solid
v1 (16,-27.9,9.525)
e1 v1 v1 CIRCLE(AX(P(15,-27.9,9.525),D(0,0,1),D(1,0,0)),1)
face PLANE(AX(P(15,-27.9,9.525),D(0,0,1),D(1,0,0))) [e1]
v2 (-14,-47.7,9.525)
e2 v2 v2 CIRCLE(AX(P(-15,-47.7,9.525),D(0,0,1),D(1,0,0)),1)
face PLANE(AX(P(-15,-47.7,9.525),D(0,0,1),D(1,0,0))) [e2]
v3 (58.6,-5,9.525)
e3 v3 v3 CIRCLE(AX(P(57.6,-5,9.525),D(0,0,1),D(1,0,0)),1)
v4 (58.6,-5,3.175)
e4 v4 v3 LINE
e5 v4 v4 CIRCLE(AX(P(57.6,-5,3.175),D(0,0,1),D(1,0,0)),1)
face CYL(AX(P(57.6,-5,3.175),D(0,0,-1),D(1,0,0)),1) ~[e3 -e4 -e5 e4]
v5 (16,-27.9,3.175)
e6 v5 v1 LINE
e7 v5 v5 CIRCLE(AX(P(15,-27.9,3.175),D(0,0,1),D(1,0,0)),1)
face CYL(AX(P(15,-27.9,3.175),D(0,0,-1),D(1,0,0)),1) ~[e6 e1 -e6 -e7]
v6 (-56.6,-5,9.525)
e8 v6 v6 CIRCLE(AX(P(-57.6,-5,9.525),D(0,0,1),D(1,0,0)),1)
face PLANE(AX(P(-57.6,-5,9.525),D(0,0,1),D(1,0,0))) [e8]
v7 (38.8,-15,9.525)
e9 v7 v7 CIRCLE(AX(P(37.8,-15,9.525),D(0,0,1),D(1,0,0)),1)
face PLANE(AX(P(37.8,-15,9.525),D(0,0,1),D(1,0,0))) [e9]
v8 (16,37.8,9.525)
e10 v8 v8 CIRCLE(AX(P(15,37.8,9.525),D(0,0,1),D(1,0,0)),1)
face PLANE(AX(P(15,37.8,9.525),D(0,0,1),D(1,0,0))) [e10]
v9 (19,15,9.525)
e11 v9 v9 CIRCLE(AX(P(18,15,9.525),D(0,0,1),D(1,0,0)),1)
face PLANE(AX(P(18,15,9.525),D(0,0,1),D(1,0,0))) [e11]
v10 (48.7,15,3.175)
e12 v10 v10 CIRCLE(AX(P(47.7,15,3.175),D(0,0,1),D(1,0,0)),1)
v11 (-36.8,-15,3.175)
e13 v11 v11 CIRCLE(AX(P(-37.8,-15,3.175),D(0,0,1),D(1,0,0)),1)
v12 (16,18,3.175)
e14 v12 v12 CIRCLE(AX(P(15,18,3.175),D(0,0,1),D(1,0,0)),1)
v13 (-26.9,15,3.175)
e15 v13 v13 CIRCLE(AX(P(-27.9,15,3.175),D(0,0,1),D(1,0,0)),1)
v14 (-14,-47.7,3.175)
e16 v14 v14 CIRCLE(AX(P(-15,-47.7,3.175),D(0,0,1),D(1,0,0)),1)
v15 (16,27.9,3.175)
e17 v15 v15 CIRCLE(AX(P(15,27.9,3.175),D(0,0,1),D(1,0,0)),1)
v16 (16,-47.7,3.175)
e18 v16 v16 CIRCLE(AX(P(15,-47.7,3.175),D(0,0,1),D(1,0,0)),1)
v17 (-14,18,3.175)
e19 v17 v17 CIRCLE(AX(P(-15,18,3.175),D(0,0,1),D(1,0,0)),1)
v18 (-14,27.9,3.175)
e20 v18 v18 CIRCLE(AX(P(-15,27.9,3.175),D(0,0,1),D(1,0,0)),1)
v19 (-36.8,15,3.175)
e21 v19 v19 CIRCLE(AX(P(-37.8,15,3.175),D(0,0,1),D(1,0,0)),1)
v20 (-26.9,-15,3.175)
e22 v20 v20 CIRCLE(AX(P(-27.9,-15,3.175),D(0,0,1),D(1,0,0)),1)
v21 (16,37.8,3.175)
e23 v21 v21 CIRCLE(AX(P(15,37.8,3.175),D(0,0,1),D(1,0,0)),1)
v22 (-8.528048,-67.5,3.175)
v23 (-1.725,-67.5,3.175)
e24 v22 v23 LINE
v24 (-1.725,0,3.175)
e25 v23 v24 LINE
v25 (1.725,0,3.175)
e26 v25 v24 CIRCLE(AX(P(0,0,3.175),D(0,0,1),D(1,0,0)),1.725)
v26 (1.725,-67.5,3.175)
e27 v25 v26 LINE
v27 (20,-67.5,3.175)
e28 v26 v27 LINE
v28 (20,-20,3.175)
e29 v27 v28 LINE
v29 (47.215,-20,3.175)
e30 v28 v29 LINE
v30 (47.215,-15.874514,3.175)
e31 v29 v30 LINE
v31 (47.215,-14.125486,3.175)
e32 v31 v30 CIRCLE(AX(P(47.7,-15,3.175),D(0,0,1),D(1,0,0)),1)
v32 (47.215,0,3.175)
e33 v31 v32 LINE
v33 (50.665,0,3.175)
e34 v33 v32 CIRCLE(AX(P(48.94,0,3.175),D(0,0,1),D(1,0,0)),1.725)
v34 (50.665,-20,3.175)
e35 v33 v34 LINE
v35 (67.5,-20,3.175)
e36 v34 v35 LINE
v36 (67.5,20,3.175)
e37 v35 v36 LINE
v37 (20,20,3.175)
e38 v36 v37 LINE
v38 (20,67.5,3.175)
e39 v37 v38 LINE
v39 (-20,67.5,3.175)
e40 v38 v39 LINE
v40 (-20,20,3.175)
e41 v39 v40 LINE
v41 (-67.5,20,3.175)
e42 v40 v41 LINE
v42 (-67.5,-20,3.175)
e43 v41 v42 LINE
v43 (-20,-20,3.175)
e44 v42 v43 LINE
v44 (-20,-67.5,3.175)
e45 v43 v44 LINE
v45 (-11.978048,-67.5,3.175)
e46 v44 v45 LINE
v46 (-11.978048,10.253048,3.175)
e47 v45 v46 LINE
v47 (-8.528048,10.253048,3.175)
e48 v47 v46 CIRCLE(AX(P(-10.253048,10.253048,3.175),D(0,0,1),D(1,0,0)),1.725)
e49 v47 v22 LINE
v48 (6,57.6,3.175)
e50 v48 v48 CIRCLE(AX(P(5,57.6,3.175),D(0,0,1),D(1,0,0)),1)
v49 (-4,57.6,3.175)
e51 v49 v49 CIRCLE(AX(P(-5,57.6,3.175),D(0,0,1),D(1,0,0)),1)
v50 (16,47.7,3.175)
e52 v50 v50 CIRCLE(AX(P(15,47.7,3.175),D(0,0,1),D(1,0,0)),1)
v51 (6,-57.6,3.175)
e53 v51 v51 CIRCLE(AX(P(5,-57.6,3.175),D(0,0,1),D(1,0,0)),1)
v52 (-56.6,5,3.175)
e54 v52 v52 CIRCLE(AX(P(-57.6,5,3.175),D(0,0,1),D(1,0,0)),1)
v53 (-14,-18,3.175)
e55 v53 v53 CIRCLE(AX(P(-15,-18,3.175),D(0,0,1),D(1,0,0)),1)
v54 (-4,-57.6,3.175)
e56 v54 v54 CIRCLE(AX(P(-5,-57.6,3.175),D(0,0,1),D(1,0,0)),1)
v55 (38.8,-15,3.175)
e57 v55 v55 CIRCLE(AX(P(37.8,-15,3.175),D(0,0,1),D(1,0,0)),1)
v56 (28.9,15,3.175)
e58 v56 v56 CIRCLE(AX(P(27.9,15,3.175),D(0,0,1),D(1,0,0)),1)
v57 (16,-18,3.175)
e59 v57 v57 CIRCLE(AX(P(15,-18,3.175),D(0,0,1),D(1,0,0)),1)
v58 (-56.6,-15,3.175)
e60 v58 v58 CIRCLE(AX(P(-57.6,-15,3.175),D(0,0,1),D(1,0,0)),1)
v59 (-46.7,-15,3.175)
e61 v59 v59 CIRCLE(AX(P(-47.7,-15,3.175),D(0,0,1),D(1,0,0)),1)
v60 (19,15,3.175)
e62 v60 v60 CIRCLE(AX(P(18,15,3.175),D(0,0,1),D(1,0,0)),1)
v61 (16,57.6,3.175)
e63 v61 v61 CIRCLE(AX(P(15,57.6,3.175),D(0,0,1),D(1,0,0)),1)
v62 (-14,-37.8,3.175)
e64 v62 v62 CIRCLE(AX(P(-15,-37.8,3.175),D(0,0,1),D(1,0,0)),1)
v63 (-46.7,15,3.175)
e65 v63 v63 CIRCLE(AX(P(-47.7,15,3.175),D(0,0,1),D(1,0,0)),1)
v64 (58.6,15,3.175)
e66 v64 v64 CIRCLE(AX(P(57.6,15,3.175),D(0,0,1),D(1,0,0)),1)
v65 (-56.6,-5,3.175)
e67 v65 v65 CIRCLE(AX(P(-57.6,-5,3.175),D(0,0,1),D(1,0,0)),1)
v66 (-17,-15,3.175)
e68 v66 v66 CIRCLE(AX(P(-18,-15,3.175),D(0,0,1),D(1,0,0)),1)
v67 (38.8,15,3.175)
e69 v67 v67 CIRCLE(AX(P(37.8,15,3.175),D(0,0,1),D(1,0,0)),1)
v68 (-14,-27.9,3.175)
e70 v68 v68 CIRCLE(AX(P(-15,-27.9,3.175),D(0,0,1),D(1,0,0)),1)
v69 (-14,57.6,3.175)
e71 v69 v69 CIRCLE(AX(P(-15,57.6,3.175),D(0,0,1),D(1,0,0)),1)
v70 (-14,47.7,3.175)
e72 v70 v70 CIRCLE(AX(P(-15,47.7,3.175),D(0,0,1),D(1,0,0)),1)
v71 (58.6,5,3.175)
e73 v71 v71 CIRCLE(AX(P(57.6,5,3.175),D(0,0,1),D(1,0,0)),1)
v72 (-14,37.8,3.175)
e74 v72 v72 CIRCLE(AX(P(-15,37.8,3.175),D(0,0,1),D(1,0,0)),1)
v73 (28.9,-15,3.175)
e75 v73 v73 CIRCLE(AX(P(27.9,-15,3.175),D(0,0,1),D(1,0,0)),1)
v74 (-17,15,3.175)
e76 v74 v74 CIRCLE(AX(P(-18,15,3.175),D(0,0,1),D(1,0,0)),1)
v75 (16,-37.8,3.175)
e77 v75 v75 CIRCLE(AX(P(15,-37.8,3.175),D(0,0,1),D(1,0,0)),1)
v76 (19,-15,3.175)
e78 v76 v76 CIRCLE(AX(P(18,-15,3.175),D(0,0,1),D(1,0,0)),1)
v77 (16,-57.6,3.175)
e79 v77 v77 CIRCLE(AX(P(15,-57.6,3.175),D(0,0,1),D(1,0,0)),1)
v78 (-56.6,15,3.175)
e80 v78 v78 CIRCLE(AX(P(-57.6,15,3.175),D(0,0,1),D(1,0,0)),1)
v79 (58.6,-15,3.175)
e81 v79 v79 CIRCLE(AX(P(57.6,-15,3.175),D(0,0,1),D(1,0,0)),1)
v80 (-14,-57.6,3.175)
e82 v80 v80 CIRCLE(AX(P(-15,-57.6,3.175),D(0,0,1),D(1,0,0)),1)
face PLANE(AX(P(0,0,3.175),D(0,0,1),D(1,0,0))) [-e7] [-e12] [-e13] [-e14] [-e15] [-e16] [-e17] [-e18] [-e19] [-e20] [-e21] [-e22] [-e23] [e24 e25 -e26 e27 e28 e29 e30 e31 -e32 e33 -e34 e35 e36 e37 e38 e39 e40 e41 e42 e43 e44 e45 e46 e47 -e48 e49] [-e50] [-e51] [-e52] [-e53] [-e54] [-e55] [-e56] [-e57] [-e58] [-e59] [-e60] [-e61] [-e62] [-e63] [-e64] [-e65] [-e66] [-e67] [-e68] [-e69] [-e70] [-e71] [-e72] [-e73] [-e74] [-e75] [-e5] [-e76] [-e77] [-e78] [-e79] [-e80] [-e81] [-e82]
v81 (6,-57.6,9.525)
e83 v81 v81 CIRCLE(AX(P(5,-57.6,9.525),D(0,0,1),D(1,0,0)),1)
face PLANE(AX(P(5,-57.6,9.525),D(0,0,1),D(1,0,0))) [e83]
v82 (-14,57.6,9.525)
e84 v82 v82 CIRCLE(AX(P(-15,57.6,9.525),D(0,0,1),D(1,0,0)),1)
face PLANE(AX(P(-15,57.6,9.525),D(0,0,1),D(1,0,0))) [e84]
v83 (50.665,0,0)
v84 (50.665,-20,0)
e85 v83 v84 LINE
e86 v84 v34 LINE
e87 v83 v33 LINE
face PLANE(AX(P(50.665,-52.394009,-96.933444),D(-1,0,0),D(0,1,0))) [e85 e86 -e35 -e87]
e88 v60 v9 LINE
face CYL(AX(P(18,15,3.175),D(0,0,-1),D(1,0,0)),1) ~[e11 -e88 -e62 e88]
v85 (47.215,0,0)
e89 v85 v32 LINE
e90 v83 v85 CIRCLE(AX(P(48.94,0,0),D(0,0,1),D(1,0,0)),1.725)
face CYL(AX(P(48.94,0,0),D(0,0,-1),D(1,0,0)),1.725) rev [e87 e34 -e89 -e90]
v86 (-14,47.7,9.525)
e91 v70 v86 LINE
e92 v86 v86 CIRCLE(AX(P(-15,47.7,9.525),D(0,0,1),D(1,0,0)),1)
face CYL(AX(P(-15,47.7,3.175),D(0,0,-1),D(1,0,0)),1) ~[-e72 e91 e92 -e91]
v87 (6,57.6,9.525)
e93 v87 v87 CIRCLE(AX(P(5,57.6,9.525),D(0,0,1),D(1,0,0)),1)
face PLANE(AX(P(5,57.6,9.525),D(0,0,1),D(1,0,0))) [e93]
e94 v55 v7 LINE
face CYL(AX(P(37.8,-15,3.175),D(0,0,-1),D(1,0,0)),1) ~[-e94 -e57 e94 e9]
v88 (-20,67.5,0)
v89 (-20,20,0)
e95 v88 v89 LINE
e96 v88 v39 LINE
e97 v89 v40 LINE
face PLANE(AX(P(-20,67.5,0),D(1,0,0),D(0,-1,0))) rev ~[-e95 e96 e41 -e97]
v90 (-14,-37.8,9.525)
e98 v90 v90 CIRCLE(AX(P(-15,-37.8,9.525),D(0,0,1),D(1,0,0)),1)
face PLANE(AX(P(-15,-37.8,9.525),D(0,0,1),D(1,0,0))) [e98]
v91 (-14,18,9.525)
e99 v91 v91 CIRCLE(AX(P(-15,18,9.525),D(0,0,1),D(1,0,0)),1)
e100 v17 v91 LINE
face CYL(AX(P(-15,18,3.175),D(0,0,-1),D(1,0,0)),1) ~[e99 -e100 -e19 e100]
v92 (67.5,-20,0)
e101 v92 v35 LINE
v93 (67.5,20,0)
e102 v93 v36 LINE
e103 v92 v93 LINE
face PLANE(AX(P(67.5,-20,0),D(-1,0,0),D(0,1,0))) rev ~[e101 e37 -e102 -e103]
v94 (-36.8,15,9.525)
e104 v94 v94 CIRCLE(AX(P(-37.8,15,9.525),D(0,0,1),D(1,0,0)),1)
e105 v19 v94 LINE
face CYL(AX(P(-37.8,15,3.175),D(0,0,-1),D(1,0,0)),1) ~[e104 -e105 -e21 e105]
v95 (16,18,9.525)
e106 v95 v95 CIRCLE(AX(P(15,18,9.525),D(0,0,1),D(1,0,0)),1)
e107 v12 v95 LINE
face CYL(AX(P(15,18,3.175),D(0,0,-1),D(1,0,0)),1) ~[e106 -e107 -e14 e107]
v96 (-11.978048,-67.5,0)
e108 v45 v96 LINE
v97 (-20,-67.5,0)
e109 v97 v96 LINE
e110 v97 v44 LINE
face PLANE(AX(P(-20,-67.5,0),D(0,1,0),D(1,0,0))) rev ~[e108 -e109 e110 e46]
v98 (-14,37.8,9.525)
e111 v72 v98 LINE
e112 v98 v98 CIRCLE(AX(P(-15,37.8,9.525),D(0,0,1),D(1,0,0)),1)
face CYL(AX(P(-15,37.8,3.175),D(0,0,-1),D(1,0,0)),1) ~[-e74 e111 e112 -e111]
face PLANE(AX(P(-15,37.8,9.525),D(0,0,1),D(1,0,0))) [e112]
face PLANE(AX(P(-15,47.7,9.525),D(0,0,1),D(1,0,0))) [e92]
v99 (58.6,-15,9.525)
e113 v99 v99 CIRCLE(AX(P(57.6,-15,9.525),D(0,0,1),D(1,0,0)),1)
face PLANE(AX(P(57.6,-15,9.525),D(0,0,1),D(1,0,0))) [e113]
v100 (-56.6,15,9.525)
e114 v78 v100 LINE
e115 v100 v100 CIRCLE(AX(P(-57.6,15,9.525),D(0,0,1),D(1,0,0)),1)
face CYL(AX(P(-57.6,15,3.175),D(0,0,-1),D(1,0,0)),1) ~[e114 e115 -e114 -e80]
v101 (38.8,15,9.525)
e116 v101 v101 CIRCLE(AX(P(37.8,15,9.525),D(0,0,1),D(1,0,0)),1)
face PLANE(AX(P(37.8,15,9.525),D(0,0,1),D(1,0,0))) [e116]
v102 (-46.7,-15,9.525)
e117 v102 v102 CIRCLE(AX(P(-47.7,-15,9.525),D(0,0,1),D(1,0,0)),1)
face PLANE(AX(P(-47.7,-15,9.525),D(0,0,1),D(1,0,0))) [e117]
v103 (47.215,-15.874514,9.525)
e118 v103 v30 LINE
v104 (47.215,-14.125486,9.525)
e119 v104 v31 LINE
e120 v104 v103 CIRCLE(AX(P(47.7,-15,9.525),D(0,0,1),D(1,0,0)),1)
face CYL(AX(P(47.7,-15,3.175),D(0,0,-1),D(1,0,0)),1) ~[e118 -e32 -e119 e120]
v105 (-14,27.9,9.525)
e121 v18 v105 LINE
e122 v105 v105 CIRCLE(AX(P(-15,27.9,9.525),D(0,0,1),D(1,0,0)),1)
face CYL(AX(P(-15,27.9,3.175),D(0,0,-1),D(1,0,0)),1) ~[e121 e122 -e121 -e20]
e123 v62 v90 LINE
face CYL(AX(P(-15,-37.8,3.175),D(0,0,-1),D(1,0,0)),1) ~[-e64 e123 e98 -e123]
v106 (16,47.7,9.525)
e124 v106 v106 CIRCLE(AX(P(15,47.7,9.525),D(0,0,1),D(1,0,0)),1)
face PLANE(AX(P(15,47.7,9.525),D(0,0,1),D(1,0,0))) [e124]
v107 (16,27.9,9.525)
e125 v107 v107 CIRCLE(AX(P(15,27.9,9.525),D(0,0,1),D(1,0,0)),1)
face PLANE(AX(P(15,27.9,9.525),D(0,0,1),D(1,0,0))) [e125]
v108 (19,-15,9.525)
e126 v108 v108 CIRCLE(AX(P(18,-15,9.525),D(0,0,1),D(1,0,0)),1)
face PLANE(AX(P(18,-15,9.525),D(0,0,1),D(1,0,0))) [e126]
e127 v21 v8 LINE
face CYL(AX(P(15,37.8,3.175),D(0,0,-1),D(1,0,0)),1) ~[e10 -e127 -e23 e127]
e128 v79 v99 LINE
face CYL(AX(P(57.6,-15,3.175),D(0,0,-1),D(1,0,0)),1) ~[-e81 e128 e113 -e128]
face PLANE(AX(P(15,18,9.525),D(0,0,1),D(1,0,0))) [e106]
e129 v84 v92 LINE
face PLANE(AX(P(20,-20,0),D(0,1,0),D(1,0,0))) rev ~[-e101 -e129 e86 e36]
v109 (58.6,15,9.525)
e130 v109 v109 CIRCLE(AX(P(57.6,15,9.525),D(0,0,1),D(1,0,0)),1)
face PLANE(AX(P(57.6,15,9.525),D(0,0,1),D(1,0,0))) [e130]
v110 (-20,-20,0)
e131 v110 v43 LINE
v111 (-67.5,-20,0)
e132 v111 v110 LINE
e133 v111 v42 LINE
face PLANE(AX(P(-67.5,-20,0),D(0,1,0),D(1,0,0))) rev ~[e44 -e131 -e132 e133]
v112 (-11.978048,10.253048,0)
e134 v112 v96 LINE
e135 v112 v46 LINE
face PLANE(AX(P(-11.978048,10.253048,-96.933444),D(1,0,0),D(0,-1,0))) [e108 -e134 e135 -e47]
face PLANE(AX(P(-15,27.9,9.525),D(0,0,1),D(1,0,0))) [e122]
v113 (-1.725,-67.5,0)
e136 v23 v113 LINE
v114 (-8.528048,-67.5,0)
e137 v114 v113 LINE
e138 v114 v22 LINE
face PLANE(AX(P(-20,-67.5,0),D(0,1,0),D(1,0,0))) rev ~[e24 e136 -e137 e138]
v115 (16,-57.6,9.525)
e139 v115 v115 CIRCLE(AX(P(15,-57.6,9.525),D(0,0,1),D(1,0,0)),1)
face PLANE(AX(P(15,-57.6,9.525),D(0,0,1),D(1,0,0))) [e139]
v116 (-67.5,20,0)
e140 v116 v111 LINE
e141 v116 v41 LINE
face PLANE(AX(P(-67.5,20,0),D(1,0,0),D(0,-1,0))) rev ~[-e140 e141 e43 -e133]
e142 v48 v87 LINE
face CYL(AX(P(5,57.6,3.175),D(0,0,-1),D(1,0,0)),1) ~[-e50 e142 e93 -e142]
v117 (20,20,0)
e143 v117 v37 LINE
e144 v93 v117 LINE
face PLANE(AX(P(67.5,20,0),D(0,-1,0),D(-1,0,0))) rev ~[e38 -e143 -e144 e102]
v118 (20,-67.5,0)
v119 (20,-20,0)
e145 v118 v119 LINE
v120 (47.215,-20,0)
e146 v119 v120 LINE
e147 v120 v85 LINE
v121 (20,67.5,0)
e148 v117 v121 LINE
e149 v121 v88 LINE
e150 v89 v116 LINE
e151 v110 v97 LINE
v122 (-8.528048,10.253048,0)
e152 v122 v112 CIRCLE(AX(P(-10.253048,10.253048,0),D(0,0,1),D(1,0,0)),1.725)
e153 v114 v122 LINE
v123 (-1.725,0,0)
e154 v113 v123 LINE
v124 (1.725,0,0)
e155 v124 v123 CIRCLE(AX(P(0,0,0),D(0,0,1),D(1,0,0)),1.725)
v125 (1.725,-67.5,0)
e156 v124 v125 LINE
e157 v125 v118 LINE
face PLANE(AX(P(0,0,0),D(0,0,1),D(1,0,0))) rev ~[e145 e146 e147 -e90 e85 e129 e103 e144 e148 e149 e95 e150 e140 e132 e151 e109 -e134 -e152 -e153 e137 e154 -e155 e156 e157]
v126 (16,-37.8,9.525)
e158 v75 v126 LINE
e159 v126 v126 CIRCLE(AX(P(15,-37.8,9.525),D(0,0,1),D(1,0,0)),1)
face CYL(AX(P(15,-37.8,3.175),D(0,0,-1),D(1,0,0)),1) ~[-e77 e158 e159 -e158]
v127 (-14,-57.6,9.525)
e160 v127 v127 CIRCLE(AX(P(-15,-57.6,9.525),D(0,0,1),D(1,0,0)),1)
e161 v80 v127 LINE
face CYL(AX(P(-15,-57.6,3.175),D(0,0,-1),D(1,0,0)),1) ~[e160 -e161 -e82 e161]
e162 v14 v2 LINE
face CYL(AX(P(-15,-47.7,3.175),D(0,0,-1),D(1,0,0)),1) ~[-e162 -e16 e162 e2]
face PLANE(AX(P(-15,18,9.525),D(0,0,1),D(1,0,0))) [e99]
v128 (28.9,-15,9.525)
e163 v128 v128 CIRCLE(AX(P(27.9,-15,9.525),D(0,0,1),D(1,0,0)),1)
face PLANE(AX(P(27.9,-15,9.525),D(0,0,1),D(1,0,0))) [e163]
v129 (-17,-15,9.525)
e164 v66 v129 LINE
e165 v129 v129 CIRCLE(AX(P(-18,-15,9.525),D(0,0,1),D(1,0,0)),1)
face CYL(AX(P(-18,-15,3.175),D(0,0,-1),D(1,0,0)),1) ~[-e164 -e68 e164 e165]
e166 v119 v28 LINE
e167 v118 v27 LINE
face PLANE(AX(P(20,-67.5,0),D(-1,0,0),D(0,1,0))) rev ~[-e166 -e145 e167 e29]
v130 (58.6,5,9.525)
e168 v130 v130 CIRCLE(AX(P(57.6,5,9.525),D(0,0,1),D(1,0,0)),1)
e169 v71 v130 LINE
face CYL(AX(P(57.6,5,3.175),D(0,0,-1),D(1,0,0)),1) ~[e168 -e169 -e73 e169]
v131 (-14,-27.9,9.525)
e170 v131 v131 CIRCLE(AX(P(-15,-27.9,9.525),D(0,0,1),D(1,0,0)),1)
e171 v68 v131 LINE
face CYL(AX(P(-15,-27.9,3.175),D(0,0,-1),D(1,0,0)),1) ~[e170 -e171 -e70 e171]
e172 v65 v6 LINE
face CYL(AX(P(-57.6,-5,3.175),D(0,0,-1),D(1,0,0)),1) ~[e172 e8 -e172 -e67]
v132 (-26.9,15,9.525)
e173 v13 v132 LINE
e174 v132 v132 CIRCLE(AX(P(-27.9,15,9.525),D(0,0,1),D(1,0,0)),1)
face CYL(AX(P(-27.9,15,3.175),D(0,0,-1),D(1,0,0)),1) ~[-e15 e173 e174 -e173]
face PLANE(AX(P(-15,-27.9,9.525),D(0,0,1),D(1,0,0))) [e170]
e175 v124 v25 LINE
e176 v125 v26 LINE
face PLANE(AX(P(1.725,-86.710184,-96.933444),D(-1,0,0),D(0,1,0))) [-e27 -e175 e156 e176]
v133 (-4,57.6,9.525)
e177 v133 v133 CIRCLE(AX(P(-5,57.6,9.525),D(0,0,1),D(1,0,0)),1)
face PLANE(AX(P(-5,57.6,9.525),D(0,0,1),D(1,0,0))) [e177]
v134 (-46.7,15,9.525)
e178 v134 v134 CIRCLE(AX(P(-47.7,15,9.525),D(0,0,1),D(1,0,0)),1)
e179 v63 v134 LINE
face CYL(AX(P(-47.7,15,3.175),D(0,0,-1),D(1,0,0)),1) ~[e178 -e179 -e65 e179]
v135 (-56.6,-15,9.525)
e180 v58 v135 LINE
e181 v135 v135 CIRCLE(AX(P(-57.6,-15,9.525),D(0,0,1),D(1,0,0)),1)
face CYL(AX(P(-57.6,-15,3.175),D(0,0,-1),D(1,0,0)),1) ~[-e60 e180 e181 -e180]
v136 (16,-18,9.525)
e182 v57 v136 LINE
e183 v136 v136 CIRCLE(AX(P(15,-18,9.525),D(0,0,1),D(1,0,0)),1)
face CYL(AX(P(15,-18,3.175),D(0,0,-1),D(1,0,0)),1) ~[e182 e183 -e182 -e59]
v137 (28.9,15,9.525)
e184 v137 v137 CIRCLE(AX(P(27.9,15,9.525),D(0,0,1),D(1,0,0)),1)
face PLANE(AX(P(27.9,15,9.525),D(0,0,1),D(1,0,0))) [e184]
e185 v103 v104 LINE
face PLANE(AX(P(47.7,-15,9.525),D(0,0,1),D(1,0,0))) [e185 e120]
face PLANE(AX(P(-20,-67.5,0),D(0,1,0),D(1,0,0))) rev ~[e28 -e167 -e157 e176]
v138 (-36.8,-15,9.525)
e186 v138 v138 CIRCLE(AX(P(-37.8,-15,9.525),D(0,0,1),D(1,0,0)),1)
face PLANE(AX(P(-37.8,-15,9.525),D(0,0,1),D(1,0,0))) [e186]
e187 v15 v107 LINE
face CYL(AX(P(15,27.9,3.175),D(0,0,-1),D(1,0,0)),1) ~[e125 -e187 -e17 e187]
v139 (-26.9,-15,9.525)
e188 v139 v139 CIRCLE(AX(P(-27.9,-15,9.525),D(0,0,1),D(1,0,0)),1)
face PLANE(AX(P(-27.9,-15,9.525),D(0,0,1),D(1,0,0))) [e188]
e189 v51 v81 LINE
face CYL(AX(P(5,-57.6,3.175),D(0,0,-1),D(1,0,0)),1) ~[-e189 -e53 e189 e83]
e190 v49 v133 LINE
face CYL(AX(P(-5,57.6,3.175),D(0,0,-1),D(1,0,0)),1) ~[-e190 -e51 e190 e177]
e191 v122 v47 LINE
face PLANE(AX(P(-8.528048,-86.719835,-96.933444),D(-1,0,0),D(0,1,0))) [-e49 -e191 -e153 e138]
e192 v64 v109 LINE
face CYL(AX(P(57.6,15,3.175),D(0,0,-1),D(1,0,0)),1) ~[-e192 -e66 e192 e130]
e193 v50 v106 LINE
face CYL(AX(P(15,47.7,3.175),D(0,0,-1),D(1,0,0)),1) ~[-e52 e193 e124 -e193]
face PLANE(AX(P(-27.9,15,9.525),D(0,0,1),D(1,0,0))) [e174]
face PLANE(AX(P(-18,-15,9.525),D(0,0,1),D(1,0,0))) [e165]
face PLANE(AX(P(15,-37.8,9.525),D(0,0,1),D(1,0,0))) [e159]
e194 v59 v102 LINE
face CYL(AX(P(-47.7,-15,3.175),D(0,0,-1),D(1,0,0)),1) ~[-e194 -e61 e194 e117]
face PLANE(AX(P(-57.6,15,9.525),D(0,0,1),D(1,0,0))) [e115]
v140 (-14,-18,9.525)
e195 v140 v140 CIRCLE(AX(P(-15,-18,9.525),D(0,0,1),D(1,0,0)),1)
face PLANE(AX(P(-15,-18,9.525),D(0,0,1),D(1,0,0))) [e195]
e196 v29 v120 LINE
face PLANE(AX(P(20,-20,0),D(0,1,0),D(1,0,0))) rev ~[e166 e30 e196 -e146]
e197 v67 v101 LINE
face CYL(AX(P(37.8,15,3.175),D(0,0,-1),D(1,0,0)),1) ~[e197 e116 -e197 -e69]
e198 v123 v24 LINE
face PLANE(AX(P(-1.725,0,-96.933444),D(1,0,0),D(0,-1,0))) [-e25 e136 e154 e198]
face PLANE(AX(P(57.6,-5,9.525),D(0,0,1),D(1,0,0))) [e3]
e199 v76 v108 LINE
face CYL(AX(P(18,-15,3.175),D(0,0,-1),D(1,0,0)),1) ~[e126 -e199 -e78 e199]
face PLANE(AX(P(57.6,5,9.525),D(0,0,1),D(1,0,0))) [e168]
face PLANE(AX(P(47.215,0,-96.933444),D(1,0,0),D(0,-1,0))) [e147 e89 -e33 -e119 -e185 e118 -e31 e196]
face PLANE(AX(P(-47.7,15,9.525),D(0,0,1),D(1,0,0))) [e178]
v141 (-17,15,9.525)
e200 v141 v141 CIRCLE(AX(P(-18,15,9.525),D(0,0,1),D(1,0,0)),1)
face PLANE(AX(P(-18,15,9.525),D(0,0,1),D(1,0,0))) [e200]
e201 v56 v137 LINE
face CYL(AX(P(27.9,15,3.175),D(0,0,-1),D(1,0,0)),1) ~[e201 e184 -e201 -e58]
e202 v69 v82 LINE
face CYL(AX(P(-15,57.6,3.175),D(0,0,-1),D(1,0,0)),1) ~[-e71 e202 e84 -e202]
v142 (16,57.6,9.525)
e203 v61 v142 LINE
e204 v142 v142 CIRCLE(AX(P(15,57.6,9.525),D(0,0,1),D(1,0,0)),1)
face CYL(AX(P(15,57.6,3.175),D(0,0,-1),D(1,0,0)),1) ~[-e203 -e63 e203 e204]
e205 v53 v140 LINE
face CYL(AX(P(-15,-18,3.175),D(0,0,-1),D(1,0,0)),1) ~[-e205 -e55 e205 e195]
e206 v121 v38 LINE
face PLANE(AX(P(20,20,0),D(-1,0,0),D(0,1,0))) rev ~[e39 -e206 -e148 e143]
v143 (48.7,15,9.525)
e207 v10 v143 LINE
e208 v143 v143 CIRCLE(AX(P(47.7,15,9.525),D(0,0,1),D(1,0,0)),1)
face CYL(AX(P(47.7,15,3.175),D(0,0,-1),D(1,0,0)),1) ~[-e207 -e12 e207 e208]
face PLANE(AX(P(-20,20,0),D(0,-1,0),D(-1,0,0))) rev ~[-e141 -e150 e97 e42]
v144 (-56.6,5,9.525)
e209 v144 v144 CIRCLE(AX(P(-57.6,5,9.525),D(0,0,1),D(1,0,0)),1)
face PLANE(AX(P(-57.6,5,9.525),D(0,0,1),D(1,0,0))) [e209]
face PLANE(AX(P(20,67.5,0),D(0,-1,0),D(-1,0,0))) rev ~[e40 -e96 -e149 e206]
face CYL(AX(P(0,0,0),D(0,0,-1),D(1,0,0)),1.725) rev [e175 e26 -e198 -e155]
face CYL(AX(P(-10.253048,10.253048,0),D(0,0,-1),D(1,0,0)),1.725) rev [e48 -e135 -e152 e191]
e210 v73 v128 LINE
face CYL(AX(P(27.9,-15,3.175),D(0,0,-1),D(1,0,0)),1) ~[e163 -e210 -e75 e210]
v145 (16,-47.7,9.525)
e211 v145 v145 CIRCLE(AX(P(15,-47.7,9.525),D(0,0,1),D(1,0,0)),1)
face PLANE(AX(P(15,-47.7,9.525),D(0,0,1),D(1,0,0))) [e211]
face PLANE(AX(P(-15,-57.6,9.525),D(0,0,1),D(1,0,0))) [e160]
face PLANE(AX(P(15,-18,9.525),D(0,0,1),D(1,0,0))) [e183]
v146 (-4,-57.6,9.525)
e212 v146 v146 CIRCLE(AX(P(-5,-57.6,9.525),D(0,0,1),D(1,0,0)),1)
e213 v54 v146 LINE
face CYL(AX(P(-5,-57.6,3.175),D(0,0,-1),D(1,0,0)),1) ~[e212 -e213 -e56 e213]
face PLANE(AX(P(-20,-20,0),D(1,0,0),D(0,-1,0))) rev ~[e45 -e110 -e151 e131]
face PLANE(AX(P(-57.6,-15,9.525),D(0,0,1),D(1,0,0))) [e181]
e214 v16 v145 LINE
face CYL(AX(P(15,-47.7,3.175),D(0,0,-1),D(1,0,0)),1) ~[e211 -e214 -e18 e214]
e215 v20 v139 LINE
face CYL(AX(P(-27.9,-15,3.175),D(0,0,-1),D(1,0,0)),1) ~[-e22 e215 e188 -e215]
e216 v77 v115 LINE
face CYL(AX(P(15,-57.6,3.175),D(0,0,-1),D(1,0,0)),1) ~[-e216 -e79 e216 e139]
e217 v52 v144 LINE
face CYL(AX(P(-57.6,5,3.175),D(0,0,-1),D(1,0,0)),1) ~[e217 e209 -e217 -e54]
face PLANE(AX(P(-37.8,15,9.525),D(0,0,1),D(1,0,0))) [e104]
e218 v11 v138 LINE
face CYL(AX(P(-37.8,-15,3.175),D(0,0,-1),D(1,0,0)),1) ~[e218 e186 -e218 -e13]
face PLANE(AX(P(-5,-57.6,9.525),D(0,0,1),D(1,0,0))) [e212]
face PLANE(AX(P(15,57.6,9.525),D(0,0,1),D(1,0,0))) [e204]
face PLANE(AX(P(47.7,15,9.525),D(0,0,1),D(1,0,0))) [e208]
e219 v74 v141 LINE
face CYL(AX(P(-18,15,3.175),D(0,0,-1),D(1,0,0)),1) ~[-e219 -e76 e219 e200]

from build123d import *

# Parameters (mm, degrees)
SKETCH2_R               = 1.725
BOSS_EXTRUDE1_DEPTH     = 3.175
BOSS_EXTRUDE2_START     = 3.175
SKETCH2_3_R             = 1
BOSS_EXTRUDE2_DEPTH     = 6.35
CUT_EXTRUDE3_DEPTH      = 96.933443725
CUT_EXTRUDE3_DEPTH_BACK = 96.933443725


with BuildPart() as part:
    # Sketch2 → Boss-Extrude1 (new body)
    with BuildSketch(Plane.XY):
        Polygon((20, 20), (20, 67.5), (-20, 67.5), (-20, 20), (-67.5, 20), (-67.5, -20), (-20, -20), (-20, -67.5), (20, -67.5), (20, -20), (67.5, -20), (67.5, 20), align=None)
        with Locations((-10.253048327, 10.253048327)):
            Circle(SKETCH2_R, mode=Mode.SUBTRACT)
        Circle(SKETCH2_R, mode=Mode.SUBTRACT)
        with Locations((48.94, 0)):
            Circle(SKETCH2_R, mode=Mode.SUBTRACT)
        with Locations((-10.253048327, -10.253048327)):
            Circle(SKETCH2_R, mode=Mode.SUBTRACT)
    extrude(amount=BOSS_EXTRUDE1_DEPTH)

    # Sketch2<3> → Boss-Extrude2 (add)
    with BuildSketch(Plane.XY.offset(BOSS_EXTRUDE2_START)):
        with Locations((15, -57.6)):
            Circle(SKETCH2_3_R)
        with Locations((5, -57.6)):
            Circle(SKETCH2_3_R)
        with Locations((-5, -57.6)):
            Circle(SKETCH2_3_R)
        with Locations((-15, -57.6)):
            Circle(SKETCH2_3_R)
        with Locations((-15, -47.7)):
            Circle(SKETCH2_3_R)
        with Locations((-15, -37.8)):
            Circle(SKETCH2_3_R)
        with Locations((15, -37.8)):
            Circle(SKETCH2_3_R)
        with Locations((15, -47.7)):
            Circle(SKETCH2_3_R)
        with Locations((-15, -27.9)):
            Circle(SKETCH2_3_R)
        with Locations((15, -27.9)):
            Circle(SKETCH2_3_R)
        with Locations((-15, -18)):
            Circle(SKETCH2_3_R)
        with Locations((-18, -15)):
            Circle(SKETCH2_3_R)
        with Locations((-27.9, -15)):
            Circle(SKETCH2_3_R)
        with Locations((-37.8, -15)):
            Circle(SKETCH2_3_R)
        with Locations((-47.7, -15)):
            Circle(SKETCH2_3_R)
        with Locations((-57.6, -15)):
            Circle(SKETCH2_3_R)
        with Locations((-57.6, -5)):
            Circle(SKETCH2_3_R)
        with Locations((-57.6, 5)):
            Circle(SKETCH2_3_R)
        with Locations((-57.6, 15)):
            Circle(SKETCH2_3_R)
        with Locations((-47.7, 15)):
            Circle(SKETCH2_3_R)
        with Locations((-27.9, 15)):
            Circle(SKETCH2_3_R)
        with Locations((-18, 15)):
            Circle(SKETCH2_3_R)
        with Locations((-15, 18)):
            Circle(SKETCH2_3_R)
        with Locations((-15, 27.9)):
            Circle(SKETCH2_3_R)
        with Locations((-15, 37.8)):
            Circle(SKETCH2_3_R)
        with Locations((-15, 47.7)):
            Circle(SKETCH2_3_R)
        with Locations((-15, 57.6)):
            Circle(SKETCH2_3_R)
        with Locations((-5, 57.6)):
            Circle(SKETCH2_3_R)
        with Locations((5, 57.6)):
            Circle(SKETCH2_3_R)
        with Locations((15, 57.6)):
            Circle(SKETCH2_3_R)
        with Locations((15, 47.7)):
            Circle(SKETCH2_3_R)
        with Locations((15, 27.9)):
            Circle(SKETCH2_3_R)
        with Locations((15, 37.8)):
            Circle(SKETCH2_3_R)
        with Locations((15, 18)):
            Circle(SKETCH2_3_R)
        with Locations((18, 15)):
            Circle(SKETCH2_3_R)
        with Locations((27.9, 15)):
            Circle(SKETCH2_3_R)
        with Locations((37.8, 15)):
            Circle(SKETCH2_3_R)
        with Locations((47.7, 15)):
            Circle(SKETCH2_3_R)
        with Locations((57.6, 15)):
            Circle(SKETCH2_3_R)
        with Locations((57.6, 5)):
            Circle(SKETCH2_3_R)
        with Locations((57.6, -5)):
            Circle(SKETCH2_3_R)
        with Locations((57.6, -15)):
            Circle(SKETCH2_3_R)
        with Locations((47.7, -15)):
            Circle(SKETCH2_3_R)
        with Locations((37.8, -15)):
            Circle(SKETCH2_3_R)
        with Locations((15, -18)):
            Circle(SKETCH2_3_R)
        with Locations((18, -15)):
            Circle(SKETCH2_3_R)
        with Locations((27.9, -15)):
            Circle(SKETCH2_3_R)
        with Locations((-37.8, 15)):
            Circle(SKETCH2_3_R)
    extrude(amount=BOSS_EXTRUDE2_DEPTH)

    # Sketch3 → Cut-Extrude3 (cut, two sides: drawn at the far end of the back side and taken through both)
    with BuildSketch(Plane.XY.offset(-CUT_EXTRUDE3_DEPTH_BACK)):
        with BuildLine():
            Line((47.215, 0), (47.215, -52.394008893))
            ThreePointArc((47.215, -52.394008893), (48.94, -54.119008893), (50.665, -52.394008893))
            Line((50.665, -52.394008893), (50.665, 0))
            ThreePointArc((50.665, 0), (48.94, 1.725), (47.215, 0))
        make_face()
        with BuildLine():
            Line((-1.725, 0), (-1.725, -86.710184275))
            ThreePointArc((-1.725, -86.710184275), (0, -88.435184275), (1.725, -86.710184275))
            Line((1.725, -86.710184275), (1.725, 0))
            ThreePointArc((1.725, 0), (0, 1.725), (-1.725, 0))
        make_face()
        with BuildLine():
            Line((-11.978048327, 10.253048327), (-11.978048327, -86.719835381))
            ThreePointArc((-11.978048327, -86.719835381), (-10.253048327, -88.444835381), (-8.528048327, -86.719835381))
            Line((-8.528048327, -86.719835381), (-8.528048327, 10.253048327))
            ThreePointArc((-8.528048327, 10.253048327), (-10.253048327, 11.978048327), (-11.978048327, 10.253048327))
        make_face()
    extrude(amount=CUT_EXTRUDE3_DEPTH + CUT_EXTRUDE3_DEPTH_BACK, mode=Mode.SUBTRACT)


solid = part.part
